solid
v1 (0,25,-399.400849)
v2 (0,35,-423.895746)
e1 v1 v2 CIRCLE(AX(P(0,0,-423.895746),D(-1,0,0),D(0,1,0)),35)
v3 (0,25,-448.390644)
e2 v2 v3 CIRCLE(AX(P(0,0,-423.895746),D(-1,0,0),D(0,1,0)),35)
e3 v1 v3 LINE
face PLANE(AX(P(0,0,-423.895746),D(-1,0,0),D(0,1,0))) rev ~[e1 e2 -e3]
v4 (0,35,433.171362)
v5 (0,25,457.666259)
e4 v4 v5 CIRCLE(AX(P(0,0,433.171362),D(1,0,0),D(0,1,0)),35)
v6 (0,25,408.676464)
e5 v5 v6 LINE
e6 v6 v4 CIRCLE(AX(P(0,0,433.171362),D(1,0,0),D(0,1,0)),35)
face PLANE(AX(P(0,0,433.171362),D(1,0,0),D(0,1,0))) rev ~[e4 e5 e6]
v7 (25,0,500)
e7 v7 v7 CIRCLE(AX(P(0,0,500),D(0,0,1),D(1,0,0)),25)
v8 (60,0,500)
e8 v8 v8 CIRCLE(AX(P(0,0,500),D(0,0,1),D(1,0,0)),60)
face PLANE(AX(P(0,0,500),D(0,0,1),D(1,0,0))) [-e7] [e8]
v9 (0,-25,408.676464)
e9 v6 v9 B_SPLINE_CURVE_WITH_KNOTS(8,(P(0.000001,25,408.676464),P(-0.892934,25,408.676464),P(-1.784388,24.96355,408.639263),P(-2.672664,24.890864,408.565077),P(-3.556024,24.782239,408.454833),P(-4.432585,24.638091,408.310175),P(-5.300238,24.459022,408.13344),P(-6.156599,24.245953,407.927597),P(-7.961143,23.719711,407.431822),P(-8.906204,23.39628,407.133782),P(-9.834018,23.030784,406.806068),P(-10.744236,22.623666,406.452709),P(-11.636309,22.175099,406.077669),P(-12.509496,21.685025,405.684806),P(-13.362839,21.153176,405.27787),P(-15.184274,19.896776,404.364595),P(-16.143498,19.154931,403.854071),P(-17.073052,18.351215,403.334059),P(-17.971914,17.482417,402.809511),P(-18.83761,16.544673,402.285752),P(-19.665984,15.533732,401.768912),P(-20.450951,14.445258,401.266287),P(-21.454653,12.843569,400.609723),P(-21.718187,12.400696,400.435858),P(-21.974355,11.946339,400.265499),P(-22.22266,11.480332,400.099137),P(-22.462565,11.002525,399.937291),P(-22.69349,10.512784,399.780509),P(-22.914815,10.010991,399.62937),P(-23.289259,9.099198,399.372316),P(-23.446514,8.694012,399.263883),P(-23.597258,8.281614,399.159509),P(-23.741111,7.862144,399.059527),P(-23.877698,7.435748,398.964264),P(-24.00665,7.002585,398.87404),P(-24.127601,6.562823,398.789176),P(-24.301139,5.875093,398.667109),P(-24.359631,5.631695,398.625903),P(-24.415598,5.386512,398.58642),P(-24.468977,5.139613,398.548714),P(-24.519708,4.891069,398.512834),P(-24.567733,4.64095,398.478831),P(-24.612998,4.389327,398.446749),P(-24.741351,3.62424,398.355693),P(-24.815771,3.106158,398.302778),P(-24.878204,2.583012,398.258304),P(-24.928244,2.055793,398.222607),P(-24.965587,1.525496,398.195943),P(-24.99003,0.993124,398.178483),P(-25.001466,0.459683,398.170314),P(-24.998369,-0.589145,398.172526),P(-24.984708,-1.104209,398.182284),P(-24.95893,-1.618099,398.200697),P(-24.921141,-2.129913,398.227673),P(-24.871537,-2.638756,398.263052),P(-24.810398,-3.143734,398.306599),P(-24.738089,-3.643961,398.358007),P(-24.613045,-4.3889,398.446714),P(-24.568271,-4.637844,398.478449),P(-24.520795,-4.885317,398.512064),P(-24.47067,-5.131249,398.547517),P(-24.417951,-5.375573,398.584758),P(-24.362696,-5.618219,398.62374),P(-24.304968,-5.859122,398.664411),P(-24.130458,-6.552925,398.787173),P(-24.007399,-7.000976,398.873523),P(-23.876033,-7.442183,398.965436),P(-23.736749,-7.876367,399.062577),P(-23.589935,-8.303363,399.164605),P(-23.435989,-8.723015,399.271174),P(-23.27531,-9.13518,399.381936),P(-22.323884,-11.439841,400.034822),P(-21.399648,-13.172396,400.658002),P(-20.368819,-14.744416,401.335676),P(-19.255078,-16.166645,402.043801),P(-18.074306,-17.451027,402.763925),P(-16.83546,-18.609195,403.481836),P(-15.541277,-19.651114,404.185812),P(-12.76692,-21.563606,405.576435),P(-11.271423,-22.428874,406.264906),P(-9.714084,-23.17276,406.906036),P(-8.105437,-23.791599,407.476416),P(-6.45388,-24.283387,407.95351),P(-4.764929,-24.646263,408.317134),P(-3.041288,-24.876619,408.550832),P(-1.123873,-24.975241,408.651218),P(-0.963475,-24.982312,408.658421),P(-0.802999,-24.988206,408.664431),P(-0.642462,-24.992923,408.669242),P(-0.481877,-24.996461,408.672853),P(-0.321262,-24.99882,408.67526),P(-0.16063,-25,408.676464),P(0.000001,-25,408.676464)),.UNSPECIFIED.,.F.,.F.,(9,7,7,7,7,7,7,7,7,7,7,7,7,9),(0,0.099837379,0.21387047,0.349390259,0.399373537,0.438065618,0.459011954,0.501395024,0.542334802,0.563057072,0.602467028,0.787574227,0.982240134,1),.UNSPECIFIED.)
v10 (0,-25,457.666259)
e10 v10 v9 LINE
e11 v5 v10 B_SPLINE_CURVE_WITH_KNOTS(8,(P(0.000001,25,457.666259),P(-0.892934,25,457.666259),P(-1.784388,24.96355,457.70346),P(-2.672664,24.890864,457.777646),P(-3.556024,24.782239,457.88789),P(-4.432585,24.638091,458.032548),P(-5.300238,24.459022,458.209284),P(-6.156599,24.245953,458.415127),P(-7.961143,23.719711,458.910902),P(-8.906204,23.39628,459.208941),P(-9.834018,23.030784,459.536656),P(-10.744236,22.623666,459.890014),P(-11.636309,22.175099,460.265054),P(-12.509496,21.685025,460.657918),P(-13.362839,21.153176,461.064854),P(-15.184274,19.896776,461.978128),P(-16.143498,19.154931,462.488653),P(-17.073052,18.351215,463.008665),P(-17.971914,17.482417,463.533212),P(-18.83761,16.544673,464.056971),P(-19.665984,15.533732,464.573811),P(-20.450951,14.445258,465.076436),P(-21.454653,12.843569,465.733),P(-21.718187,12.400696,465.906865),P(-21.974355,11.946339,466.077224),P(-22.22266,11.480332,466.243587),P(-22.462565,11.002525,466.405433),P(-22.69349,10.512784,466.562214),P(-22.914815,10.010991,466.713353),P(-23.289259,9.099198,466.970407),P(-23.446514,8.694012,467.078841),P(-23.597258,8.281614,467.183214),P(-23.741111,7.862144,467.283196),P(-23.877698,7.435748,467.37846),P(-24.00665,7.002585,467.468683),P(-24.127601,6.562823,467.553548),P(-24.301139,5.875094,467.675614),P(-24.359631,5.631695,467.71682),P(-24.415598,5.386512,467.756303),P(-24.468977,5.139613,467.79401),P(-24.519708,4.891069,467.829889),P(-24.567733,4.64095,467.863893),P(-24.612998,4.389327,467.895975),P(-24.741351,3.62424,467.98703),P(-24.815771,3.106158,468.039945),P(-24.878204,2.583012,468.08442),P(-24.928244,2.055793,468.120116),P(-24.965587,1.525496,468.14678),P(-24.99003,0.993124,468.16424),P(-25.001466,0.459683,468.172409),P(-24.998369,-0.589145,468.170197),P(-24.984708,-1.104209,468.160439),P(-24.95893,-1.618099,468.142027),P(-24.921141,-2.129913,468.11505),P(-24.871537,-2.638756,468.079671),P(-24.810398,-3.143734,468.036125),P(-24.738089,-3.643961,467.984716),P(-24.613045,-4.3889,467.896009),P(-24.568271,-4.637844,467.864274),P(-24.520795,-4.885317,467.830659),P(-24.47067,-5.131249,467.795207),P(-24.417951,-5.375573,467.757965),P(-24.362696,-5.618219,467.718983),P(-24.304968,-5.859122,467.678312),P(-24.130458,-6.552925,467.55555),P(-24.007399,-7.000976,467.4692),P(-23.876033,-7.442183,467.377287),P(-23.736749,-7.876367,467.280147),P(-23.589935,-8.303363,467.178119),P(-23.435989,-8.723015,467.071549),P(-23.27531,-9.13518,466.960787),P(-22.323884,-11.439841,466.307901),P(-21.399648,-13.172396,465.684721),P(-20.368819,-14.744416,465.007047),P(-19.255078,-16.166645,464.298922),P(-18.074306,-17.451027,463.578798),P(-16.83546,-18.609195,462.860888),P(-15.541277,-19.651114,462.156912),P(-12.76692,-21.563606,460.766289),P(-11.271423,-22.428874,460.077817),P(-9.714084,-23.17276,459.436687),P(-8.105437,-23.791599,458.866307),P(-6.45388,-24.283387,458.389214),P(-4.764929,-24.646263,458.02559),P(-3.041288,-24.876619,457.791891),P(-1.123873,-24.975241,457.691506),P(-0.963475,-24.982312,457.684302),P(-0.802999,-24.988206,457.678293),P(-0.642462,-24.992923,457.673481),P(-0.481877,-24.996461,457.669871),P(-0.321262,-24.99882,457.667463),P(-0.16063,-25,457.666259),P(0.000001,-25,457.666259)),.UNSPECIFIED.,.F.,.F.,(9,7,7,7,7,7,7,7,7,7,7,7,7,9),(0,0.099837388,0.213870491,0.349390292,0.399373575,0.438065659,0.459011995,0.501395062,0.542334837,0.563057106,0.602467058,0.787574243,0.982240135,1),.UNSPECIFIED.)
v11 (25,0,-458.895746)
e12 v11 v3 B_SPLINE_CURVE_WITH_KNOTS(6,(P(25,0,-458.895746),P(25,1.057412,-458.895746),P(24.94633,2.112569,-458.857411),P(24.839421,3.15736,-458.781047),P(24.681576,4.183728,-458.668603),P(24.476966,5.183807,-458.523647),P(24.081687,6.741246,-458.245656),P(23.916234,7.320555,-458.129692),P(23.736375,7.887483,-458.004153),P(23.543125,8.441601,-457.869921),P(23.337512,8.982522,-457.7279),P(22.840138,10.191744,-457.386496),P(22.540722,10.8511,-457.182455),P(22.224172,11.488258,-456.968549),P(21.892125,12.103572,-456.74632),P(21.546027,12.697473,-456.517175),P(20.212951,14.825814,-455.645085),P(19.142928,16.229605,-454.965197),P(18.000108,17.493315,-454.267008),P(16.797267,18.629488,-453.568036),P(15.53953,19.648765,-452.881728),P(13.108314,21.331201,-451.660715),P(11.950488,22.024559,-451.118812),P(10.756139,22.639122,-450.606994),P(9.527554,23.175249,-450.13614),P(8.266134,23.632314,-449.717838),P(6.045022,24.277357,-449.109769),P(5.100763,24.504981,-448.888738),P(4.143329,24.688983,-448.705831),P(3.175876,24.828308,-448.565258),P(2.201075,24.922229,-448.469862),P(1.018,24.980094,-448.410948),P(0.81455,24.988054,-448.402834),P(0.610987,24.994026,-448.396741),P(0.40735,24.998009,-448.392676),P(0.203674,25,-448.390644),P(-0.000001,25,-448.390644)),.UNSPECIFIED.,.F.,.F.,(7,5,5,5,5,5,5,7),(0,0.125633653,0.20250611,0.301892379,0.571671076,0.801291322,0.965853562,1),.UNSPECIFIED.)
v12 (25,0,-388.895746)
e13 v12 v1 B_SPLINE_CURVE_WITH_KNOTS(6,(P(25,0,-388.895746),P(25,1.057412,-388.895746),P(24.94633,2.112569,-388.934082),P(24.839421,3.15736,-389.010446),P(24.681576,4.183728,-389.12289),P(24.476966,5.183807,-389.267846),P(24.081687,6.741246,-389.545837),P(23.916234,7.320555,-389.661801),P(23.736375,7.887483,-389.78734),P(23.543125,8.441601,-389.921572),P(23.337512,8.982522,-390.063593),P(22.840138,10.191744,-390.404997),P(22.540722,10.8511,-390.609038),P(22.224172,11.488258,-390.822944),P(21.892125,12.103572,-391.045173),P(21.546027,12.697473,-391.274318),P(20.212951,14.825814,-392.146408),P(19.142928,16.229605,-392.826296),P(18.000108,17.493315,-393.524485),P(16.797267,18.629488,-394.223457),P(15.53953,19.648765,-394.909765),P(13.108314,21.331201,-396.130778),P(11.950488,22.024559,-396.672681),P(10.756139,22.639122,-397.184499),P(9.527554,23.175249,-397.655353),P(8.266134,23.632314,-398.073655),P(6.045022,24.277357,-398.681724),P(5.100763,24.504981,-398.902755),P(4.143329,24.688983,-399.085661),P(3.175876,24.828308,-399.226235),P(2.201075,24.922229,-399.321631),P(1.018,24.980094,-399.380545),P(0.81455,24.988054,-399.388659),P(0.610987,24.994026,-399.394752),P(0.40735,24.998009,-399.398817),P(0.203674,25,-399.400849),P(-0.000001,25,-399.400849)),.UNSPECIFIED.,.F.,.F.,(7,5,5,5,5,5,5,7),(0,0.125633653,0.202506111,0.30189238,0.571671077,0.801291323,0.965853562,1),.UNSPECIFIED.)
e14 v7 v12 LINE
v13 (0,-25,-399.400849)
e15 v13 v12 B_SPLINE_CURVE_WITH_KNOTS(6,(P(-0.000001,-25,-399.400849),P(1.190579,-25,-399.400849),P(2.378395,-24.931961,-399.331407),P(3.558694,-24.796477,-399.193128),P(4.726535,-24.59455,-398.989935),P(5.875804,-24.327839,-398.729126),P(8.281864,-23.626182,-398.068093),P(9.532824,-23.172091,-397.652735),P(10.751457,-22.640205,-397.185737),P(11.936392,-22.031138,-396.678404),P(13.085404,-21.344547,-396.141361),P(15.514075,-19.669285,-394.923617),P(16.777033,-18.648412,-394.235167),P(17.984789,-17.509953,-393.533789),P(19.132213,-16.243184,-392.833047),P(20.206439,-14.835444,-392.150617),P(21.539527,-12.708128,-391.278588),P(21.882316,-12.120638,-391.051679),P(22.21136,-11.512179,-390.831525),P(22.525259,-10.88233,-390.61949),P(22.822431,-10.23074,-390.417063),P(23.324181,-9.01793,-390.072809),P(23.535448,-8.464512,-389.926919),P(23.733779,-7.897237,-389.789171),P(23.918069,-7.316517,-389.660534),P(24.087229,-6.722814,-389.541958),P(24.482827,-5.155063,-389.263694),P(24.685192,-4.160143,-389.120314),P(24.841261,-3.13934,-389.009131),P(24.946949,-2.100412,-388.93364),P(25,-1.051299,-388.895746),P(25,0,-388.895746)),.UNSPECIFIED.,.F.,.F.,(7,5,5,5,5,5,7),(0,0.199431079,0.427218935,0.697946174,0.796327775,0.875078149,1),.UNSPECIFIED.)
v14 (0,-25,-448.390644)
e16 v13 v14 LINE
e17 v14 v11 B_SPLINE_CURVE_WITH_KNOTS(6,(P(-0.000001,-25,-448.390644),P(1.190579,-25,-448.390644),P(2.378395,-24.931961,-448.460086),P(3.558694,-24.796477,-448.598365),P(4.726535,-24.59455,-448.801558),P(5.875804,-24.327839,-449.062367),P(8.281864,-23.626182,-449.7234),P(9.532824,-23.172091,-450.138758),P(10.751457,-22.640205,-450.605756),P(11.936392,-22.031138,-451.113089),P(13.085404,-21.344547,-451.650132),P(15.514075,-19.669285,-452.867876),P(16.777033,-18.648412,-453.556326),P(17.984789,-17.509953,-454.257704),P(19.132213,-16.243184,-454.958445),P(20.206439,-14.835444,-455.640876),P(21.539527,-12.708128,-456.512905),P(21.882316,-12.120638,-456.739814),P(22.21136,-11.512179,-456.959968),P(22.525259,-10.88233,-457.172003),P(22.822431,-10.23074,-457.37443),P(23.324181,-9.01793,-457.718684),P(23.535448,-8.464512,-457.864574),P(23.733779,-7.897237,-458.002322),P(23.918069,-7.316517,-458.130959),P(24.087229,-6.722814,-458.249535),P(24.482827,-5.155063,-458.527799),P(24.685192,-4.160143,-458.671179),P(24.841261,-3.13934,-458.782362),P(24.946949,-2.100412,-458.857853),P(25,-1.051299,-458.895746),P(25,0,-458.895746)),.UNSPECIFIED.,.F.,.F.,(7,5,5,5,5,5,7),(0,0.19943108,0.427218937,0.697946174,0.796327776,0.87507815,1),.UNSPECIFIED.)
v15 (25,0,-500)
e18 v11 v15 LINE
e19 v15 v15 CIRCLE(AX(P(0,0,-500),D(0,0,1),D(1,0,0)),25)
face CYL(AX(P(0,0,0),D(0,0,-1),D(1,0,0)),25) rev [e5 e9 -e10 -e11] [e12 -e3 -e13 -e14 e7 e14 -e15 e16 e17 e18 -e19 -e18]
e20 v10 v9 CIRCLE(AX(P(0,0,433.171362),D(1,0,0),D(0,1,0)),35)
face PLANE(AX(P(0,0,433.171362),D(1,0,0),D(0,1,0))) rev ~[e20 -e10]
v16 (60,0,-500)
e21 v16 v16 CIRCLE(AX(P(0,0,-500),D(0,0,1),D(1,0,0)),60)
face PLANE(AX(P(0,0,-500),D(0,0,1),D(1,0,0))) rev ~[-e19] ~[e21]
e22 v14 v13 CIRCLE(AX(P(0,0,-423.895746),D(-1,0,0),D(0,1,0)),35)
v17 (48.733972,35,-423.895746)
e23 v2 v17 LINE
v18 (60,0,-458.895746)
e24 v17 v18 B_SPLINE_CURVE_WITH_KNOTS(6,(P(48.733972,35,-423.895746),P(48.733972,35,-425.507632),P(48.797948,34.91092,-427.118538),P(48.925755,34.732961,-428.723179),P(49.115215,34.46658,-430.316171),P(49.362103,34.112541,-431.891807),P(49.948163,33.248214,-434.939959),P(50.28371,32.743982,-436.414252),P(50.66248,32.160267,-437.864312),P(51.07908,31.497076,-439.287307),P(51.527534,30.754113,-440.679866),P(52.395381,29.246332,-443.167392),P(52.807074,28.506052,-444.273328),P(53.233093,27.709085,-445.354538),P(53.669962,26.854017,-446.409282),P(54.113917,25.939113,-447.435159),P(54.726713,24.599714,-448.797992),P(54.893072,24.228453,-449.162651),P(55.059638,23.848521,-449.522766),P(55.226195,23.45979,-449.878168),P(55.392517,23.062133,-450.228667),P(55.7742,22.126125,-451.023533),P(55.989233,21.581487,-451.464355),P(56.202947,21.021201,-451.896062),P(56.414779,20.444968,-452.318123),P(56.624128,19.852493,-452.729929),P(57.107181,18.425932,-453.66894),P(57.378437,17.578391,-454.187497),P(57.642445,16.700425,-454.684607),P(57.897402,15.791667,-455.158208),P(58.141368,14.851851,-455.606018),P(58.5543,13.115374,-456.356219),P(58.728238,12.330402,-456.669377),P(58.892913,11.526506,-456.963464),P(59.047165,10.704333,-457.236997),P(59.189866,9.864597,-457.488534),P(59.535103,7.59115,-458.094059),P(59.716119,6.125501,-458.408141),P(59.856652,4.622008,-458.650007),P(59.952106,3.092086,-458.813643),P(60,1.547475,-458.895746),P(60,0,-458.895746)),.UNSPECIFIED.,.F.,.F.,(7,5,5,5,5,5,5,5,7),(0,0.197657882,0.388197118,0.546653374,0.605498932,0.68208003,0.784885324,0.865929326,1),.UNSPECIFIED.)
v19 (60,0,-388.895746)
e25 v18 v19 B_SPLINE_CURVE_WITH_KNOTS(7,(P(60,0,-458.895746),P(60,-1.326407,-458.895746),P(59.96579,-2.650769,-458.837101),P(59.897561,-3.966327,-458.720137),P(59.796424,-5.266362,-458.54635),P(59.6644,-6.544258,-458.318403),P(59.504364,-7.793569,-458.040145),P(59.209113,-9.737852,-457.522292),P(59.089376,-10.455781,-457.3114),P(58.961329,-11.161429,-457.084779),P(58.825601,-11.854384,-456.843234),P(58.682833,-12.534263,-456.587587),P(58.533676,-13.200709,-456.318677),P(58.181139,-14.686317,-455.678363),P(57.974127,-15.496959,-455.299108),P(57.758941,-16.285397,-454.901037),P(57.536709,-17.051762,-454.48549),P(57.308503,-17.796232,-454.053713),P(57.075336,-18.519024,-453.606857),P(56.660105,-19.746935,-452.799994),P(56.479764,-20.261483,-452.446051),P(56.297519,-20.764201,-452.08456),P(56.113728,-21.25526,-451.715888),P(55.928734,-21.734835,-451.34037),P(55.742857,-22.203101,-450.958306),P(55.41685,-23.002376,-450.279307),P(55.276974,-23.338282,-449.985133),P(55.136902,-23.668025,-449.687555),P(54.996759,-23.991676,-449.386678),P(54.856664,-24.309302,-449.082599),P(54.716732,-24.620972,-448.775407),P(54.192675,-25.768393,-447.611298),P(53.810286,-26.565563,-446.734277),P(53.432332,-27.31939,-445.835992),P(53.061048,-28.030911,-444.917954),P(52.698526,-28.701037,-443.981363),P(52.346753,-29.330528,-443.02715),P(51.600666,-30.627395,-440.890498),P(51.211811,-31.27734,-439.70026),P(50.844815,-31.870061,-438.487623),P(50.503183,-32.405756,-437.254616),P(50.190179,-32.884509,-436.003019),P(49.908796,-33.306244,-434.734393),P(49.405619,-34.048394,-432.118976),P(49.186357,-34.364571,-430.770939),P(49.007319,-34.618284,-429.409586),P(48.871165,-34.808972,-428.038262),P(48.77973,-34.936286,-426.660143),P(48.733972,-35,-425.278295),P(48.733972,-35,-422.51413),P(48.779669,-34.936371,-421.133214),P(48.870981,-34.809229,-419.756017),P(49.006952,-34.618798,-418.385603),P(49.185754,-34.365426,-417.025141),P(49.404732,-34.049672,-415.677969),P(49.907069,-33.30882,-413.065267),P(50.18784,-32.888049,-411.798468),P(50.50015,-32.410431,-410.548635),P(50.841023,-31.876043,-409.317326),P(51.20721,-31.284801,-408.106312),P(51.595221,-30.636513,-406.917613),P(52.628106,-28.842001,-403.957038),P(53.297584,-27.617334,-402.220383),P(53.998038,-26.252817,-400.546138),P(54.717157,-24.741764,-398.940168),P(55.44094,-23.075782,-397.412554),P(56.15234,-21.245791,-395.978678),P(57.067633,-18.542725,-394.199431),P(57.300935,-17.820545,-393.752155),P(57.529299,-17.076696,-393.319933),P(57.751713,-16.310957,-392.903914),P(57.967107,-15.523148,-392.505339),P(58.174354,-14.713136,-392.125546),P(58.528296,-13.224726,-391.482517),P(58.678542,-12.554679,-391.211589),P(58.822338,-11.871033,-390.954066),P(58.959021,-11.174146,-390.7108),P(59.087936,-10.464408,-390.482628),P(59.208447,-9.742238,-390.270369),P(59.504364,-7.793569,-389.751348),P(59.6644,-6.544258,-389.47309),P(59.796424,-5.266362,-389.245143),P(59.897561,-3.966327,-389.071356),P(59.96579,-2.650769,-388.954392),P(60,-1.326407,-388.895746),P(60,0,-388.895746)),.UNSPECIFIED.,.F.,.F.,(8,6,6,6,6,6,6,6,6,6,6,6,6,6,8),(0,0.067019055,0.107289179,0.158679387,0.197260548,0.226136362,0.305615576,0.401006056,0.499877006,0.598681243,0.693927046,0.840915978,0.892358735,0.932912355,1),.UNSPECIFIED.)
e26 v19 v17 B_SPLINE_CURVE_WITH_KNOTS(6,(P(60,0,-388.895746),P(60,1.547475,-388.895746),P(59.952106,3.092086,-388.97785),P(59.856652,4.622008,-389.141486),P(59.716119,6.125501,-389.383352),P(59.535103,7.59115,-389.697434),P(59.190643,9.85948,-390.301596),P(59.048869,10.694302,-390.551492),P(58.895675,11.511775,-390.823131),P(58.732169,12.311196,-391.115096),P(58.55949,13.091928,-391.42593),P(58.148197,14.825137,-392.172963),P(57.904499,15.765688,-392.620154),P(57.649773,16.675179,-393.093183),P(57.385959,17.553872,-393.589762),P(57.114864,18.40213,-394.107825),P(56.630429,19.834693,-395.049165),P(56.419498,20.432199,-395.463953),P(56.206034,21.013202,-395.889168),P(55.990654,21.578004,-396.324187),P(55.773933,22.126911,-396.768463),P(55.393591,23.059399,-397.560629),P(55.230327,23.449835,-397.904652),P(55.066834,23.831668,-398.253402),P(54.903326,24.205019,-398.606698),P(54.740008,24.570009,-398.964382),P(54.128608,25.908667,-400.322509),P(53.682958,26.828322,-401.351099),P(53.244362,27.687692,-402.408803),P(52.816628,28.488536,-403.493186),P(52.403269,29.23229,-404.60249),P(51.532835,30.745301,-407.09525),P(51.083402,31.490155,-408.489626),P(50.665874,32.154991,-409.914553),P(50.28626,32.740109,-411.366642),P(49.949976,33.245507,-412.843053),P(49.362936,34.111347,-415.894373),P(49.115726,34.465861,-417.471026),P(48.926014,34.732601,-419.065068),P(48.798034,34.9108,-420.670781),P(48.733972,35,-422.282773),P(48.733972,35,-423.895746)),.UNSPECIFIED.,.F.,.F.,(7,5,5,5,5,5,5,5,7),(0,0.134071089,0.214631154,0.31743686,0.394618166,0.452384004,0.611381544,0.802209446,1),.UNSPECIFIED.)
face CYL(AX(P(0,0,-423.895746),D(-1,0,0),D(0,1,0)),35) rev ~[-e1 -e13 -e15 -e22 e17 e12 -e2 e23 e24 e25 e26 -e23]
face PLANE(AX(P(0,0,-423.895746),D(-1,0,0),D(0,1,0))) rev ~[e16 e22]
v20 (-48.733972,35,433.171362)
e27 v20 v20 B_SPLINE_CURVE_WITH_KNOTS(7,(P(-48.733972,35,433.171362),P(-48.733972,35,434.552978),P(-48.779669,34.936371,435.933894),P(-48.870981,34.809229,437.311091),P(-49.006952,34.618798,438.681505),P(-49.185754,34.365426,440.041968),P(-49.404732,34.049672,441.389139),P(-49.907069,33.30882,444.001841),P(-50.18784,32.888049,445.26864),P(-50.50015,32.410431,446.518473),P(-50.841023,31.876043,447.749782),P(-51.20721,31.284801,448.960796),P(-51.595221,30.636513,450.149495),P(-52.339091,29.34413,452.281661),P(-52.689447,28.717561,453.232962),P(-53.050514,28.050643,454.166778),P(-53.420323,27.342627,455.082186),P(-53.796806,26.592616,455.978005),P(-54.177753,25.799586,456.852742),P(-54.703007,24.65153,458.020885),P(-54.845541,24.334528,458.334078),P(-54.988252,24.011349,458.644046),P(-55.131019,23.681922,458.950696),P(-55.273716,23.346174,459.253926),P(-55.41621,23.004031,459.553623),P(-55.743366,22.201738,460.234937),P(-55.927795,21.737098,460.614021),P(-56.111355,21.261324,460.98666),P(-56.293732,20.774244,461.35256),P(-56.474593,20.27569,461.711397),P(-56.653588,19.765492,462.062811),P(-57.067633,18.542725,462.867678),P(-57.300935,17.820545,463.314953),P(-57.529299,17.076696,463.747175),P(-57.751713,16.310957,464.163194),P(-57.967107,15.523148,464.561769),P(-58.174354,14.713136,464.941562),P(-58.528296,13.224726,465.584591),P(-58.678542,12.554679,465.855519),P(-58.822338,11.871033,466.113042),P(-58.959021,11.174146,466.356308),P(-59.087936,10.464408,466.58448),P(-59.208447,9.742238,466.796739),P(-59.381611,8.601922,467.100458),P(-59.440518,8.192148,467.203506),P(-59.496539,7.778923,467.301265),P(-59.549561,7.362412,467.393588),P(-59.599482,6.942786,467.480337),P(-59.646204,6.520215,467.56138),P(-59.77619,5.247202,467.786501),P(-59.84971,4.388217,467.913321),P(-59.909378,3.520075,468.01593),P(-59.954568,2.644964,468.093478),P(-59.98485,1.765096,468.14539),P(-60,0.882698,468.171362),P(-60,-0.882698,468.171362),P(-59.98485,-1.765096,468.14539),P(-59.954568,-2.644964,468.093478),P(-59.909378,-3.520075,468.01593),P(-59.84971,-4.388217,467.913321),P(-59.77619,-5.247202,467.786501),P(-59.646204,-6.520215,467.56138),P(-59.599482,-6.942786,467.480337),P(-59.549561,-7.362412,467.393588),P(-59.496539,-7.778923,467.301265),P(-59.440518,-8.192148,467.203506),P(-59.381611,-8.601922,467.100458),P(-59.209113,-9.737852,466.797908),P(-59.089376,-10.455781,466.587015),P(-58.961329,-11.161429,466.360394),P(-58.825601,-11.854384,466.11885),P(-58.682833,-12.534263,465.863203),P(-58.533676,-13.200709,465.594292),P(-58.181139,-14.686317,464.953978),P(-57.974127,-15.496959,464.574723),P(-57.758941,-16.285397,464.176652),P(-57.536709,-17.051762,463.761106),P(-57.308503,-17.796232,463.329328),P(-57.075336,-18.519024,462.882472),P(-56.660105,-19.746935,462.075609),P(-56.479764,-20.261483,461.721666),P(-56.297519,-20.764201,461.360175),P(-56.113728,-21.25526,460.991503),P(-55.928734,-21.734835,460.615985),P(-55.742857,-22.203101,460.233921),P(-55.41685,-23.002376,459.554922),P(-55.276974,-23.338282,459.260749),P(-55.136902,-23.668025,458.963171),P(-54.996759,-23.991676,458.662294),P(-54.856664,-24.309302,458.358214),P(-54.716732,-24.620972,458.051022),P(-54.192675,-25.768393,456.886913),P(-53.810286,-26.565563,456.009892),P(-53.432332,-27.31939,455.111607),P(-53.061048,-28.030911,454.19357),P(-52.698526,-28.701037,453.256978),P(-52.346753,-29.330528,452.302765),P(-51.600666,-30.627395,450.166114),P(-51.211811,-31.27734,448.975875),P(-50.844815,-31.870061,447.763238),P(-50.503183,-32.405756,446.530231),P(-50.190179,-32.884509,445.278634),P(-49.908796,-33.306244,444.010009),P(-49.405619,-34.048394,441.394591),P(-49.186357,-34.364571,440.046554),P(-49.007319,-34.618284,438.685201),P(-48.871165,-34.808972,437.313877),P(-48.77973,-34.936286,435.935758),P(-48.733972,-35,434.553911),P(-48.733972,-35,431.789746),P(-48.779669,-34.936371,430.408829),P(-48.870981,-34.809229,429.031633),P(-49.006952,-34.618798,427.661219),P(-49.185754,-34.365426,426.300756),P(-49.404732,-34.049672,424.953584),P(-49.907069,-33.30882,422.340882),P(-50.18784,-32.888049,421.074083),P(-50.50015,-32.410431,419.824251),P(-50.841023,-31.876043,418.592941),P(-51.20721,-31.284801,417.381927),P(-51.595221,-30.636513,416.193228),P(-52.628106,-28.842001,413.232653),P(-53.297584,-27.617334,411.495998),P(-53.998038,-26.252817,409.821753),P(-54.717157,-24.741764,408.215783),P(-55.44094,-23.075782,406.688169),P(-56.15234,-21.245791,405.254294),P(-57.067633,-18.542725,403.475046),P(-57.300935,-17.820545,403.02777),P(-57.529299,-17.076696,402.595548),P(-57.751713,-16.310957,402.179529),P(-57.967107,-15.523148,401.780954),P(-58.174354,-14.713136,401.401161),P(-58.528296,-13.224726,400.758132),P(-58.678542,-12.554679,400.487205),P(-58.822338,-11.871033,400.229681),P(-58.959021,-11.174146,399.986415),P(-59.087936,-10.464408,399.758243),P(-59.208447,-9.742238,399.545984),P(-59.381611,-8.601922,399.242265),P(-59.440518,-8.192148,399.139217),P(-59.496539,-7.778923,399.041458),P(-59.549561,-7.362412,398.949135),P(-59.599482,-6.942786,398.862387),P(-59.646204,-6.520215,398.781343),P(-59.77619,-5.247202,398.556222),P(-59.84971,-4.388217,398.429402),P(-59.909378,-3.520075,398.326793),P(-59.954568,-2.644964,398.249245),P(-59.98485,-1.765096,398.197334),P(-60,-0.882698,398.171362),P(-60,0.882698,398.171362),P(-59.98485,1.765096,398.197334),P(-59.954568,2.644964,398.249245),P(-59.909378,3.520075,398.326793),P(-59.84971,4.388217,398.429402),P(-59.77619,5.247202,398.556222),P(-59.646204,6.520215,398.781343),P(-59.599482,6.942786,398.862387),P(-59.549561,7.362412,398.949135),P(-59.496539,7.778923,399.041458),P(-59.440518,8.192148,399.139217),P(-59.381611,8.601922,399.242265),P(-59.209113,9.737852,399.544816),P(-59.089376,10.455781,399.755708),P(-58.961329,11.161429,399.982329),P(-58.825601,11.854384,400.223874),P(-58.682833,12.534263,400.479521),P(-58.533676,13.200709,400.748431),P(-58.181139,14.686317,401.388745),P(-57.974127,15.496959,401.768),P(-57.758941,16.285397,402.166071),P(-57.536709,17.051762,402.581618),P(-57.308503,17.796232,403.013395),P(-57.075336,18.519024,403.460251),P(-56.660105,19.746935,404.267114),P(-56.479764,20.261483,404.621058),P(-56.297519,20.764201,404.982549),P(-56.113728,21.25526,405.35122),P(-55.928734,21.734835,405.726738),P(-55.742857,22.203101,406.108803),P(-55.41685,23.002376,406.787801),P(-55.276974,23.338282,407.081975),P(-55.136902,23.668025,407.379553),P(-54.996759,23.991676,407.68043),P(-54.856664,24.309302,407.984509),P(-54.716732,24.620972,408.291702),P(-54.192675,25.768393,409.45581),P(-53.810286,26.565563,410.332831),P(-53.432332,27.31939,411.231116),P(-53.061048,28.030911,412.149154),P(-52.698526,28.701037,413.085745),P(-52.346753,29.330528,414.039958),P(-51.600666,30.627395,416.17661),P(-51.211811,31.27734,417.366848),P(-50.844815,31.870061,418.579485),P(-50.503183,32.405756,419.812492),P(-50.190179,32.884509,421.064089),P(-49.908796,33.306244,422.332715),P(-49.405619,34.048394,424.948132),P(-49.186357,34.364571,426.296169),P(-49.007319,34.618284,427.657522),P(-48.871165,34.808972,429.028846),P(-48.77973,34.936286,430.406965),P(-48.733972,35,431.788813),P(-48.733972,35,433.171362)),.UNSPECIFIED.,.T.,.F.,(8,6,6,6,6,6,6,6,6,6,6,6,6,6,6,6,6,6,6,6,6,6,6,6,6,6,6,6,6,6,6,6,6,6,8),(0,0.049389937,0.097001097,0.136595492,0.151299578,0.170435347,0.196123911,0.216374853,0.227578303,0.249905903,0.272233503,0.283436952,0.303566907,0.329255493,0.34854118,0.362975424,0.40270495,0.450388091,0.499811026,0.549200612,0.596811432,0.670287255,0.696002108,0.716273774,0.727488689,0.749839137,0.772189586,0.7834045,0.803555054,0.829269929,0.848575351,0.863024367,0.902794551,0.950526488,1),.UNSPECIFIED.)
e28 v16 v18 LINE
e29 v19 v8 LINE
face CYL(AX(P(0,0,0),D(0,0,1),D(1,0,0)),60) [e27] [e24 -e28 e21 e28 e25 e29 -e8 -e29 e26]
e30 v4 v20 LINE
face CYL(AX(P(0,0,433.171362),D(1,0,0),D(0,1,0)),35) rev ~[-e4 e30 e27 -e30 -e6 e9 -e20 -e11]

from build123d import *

# Parameters (mm, degrees)
F0_R     = 60
F0_R_2   = 25
F1_DEPTH = 500
F3_D     = 70
F3_DEPTH = 60.001
F5_D     = 70
F5_DEPTH = 60.0010001


with BuildPart() as f1:
    # F0 (on Top) → F1 (new body, symmetric)
    with BuildSketch(Plane.XY):
        Circle(F0_R)
        Circle(F0_R_2, mode=Mode.SUBTRACT)
    extrude(amount=F1_DEPTH, both=True)

    # F3 (through all, one way)
    with BuildSketch(Plane.YZ):
        with Locations((0, 433.1713616848)):
            Circle(F3_D / 2)
    extrude(amount=-F3_DEPTH, mode=Mode.SUBTRACT)

    # F5 (through all, one way)
    with BuildSketch(Plane(origin=(0, 0, 0), x_dir=(0, 1, 0), z_dir=(-1, 0, 0))):
        with Locations((0, 423.8957464695)):
            Circle(F5_D / 2)
    extrude(amount=-F5_DEPTH, mode=Mode.SUBTRACT)


solid = f1.part
